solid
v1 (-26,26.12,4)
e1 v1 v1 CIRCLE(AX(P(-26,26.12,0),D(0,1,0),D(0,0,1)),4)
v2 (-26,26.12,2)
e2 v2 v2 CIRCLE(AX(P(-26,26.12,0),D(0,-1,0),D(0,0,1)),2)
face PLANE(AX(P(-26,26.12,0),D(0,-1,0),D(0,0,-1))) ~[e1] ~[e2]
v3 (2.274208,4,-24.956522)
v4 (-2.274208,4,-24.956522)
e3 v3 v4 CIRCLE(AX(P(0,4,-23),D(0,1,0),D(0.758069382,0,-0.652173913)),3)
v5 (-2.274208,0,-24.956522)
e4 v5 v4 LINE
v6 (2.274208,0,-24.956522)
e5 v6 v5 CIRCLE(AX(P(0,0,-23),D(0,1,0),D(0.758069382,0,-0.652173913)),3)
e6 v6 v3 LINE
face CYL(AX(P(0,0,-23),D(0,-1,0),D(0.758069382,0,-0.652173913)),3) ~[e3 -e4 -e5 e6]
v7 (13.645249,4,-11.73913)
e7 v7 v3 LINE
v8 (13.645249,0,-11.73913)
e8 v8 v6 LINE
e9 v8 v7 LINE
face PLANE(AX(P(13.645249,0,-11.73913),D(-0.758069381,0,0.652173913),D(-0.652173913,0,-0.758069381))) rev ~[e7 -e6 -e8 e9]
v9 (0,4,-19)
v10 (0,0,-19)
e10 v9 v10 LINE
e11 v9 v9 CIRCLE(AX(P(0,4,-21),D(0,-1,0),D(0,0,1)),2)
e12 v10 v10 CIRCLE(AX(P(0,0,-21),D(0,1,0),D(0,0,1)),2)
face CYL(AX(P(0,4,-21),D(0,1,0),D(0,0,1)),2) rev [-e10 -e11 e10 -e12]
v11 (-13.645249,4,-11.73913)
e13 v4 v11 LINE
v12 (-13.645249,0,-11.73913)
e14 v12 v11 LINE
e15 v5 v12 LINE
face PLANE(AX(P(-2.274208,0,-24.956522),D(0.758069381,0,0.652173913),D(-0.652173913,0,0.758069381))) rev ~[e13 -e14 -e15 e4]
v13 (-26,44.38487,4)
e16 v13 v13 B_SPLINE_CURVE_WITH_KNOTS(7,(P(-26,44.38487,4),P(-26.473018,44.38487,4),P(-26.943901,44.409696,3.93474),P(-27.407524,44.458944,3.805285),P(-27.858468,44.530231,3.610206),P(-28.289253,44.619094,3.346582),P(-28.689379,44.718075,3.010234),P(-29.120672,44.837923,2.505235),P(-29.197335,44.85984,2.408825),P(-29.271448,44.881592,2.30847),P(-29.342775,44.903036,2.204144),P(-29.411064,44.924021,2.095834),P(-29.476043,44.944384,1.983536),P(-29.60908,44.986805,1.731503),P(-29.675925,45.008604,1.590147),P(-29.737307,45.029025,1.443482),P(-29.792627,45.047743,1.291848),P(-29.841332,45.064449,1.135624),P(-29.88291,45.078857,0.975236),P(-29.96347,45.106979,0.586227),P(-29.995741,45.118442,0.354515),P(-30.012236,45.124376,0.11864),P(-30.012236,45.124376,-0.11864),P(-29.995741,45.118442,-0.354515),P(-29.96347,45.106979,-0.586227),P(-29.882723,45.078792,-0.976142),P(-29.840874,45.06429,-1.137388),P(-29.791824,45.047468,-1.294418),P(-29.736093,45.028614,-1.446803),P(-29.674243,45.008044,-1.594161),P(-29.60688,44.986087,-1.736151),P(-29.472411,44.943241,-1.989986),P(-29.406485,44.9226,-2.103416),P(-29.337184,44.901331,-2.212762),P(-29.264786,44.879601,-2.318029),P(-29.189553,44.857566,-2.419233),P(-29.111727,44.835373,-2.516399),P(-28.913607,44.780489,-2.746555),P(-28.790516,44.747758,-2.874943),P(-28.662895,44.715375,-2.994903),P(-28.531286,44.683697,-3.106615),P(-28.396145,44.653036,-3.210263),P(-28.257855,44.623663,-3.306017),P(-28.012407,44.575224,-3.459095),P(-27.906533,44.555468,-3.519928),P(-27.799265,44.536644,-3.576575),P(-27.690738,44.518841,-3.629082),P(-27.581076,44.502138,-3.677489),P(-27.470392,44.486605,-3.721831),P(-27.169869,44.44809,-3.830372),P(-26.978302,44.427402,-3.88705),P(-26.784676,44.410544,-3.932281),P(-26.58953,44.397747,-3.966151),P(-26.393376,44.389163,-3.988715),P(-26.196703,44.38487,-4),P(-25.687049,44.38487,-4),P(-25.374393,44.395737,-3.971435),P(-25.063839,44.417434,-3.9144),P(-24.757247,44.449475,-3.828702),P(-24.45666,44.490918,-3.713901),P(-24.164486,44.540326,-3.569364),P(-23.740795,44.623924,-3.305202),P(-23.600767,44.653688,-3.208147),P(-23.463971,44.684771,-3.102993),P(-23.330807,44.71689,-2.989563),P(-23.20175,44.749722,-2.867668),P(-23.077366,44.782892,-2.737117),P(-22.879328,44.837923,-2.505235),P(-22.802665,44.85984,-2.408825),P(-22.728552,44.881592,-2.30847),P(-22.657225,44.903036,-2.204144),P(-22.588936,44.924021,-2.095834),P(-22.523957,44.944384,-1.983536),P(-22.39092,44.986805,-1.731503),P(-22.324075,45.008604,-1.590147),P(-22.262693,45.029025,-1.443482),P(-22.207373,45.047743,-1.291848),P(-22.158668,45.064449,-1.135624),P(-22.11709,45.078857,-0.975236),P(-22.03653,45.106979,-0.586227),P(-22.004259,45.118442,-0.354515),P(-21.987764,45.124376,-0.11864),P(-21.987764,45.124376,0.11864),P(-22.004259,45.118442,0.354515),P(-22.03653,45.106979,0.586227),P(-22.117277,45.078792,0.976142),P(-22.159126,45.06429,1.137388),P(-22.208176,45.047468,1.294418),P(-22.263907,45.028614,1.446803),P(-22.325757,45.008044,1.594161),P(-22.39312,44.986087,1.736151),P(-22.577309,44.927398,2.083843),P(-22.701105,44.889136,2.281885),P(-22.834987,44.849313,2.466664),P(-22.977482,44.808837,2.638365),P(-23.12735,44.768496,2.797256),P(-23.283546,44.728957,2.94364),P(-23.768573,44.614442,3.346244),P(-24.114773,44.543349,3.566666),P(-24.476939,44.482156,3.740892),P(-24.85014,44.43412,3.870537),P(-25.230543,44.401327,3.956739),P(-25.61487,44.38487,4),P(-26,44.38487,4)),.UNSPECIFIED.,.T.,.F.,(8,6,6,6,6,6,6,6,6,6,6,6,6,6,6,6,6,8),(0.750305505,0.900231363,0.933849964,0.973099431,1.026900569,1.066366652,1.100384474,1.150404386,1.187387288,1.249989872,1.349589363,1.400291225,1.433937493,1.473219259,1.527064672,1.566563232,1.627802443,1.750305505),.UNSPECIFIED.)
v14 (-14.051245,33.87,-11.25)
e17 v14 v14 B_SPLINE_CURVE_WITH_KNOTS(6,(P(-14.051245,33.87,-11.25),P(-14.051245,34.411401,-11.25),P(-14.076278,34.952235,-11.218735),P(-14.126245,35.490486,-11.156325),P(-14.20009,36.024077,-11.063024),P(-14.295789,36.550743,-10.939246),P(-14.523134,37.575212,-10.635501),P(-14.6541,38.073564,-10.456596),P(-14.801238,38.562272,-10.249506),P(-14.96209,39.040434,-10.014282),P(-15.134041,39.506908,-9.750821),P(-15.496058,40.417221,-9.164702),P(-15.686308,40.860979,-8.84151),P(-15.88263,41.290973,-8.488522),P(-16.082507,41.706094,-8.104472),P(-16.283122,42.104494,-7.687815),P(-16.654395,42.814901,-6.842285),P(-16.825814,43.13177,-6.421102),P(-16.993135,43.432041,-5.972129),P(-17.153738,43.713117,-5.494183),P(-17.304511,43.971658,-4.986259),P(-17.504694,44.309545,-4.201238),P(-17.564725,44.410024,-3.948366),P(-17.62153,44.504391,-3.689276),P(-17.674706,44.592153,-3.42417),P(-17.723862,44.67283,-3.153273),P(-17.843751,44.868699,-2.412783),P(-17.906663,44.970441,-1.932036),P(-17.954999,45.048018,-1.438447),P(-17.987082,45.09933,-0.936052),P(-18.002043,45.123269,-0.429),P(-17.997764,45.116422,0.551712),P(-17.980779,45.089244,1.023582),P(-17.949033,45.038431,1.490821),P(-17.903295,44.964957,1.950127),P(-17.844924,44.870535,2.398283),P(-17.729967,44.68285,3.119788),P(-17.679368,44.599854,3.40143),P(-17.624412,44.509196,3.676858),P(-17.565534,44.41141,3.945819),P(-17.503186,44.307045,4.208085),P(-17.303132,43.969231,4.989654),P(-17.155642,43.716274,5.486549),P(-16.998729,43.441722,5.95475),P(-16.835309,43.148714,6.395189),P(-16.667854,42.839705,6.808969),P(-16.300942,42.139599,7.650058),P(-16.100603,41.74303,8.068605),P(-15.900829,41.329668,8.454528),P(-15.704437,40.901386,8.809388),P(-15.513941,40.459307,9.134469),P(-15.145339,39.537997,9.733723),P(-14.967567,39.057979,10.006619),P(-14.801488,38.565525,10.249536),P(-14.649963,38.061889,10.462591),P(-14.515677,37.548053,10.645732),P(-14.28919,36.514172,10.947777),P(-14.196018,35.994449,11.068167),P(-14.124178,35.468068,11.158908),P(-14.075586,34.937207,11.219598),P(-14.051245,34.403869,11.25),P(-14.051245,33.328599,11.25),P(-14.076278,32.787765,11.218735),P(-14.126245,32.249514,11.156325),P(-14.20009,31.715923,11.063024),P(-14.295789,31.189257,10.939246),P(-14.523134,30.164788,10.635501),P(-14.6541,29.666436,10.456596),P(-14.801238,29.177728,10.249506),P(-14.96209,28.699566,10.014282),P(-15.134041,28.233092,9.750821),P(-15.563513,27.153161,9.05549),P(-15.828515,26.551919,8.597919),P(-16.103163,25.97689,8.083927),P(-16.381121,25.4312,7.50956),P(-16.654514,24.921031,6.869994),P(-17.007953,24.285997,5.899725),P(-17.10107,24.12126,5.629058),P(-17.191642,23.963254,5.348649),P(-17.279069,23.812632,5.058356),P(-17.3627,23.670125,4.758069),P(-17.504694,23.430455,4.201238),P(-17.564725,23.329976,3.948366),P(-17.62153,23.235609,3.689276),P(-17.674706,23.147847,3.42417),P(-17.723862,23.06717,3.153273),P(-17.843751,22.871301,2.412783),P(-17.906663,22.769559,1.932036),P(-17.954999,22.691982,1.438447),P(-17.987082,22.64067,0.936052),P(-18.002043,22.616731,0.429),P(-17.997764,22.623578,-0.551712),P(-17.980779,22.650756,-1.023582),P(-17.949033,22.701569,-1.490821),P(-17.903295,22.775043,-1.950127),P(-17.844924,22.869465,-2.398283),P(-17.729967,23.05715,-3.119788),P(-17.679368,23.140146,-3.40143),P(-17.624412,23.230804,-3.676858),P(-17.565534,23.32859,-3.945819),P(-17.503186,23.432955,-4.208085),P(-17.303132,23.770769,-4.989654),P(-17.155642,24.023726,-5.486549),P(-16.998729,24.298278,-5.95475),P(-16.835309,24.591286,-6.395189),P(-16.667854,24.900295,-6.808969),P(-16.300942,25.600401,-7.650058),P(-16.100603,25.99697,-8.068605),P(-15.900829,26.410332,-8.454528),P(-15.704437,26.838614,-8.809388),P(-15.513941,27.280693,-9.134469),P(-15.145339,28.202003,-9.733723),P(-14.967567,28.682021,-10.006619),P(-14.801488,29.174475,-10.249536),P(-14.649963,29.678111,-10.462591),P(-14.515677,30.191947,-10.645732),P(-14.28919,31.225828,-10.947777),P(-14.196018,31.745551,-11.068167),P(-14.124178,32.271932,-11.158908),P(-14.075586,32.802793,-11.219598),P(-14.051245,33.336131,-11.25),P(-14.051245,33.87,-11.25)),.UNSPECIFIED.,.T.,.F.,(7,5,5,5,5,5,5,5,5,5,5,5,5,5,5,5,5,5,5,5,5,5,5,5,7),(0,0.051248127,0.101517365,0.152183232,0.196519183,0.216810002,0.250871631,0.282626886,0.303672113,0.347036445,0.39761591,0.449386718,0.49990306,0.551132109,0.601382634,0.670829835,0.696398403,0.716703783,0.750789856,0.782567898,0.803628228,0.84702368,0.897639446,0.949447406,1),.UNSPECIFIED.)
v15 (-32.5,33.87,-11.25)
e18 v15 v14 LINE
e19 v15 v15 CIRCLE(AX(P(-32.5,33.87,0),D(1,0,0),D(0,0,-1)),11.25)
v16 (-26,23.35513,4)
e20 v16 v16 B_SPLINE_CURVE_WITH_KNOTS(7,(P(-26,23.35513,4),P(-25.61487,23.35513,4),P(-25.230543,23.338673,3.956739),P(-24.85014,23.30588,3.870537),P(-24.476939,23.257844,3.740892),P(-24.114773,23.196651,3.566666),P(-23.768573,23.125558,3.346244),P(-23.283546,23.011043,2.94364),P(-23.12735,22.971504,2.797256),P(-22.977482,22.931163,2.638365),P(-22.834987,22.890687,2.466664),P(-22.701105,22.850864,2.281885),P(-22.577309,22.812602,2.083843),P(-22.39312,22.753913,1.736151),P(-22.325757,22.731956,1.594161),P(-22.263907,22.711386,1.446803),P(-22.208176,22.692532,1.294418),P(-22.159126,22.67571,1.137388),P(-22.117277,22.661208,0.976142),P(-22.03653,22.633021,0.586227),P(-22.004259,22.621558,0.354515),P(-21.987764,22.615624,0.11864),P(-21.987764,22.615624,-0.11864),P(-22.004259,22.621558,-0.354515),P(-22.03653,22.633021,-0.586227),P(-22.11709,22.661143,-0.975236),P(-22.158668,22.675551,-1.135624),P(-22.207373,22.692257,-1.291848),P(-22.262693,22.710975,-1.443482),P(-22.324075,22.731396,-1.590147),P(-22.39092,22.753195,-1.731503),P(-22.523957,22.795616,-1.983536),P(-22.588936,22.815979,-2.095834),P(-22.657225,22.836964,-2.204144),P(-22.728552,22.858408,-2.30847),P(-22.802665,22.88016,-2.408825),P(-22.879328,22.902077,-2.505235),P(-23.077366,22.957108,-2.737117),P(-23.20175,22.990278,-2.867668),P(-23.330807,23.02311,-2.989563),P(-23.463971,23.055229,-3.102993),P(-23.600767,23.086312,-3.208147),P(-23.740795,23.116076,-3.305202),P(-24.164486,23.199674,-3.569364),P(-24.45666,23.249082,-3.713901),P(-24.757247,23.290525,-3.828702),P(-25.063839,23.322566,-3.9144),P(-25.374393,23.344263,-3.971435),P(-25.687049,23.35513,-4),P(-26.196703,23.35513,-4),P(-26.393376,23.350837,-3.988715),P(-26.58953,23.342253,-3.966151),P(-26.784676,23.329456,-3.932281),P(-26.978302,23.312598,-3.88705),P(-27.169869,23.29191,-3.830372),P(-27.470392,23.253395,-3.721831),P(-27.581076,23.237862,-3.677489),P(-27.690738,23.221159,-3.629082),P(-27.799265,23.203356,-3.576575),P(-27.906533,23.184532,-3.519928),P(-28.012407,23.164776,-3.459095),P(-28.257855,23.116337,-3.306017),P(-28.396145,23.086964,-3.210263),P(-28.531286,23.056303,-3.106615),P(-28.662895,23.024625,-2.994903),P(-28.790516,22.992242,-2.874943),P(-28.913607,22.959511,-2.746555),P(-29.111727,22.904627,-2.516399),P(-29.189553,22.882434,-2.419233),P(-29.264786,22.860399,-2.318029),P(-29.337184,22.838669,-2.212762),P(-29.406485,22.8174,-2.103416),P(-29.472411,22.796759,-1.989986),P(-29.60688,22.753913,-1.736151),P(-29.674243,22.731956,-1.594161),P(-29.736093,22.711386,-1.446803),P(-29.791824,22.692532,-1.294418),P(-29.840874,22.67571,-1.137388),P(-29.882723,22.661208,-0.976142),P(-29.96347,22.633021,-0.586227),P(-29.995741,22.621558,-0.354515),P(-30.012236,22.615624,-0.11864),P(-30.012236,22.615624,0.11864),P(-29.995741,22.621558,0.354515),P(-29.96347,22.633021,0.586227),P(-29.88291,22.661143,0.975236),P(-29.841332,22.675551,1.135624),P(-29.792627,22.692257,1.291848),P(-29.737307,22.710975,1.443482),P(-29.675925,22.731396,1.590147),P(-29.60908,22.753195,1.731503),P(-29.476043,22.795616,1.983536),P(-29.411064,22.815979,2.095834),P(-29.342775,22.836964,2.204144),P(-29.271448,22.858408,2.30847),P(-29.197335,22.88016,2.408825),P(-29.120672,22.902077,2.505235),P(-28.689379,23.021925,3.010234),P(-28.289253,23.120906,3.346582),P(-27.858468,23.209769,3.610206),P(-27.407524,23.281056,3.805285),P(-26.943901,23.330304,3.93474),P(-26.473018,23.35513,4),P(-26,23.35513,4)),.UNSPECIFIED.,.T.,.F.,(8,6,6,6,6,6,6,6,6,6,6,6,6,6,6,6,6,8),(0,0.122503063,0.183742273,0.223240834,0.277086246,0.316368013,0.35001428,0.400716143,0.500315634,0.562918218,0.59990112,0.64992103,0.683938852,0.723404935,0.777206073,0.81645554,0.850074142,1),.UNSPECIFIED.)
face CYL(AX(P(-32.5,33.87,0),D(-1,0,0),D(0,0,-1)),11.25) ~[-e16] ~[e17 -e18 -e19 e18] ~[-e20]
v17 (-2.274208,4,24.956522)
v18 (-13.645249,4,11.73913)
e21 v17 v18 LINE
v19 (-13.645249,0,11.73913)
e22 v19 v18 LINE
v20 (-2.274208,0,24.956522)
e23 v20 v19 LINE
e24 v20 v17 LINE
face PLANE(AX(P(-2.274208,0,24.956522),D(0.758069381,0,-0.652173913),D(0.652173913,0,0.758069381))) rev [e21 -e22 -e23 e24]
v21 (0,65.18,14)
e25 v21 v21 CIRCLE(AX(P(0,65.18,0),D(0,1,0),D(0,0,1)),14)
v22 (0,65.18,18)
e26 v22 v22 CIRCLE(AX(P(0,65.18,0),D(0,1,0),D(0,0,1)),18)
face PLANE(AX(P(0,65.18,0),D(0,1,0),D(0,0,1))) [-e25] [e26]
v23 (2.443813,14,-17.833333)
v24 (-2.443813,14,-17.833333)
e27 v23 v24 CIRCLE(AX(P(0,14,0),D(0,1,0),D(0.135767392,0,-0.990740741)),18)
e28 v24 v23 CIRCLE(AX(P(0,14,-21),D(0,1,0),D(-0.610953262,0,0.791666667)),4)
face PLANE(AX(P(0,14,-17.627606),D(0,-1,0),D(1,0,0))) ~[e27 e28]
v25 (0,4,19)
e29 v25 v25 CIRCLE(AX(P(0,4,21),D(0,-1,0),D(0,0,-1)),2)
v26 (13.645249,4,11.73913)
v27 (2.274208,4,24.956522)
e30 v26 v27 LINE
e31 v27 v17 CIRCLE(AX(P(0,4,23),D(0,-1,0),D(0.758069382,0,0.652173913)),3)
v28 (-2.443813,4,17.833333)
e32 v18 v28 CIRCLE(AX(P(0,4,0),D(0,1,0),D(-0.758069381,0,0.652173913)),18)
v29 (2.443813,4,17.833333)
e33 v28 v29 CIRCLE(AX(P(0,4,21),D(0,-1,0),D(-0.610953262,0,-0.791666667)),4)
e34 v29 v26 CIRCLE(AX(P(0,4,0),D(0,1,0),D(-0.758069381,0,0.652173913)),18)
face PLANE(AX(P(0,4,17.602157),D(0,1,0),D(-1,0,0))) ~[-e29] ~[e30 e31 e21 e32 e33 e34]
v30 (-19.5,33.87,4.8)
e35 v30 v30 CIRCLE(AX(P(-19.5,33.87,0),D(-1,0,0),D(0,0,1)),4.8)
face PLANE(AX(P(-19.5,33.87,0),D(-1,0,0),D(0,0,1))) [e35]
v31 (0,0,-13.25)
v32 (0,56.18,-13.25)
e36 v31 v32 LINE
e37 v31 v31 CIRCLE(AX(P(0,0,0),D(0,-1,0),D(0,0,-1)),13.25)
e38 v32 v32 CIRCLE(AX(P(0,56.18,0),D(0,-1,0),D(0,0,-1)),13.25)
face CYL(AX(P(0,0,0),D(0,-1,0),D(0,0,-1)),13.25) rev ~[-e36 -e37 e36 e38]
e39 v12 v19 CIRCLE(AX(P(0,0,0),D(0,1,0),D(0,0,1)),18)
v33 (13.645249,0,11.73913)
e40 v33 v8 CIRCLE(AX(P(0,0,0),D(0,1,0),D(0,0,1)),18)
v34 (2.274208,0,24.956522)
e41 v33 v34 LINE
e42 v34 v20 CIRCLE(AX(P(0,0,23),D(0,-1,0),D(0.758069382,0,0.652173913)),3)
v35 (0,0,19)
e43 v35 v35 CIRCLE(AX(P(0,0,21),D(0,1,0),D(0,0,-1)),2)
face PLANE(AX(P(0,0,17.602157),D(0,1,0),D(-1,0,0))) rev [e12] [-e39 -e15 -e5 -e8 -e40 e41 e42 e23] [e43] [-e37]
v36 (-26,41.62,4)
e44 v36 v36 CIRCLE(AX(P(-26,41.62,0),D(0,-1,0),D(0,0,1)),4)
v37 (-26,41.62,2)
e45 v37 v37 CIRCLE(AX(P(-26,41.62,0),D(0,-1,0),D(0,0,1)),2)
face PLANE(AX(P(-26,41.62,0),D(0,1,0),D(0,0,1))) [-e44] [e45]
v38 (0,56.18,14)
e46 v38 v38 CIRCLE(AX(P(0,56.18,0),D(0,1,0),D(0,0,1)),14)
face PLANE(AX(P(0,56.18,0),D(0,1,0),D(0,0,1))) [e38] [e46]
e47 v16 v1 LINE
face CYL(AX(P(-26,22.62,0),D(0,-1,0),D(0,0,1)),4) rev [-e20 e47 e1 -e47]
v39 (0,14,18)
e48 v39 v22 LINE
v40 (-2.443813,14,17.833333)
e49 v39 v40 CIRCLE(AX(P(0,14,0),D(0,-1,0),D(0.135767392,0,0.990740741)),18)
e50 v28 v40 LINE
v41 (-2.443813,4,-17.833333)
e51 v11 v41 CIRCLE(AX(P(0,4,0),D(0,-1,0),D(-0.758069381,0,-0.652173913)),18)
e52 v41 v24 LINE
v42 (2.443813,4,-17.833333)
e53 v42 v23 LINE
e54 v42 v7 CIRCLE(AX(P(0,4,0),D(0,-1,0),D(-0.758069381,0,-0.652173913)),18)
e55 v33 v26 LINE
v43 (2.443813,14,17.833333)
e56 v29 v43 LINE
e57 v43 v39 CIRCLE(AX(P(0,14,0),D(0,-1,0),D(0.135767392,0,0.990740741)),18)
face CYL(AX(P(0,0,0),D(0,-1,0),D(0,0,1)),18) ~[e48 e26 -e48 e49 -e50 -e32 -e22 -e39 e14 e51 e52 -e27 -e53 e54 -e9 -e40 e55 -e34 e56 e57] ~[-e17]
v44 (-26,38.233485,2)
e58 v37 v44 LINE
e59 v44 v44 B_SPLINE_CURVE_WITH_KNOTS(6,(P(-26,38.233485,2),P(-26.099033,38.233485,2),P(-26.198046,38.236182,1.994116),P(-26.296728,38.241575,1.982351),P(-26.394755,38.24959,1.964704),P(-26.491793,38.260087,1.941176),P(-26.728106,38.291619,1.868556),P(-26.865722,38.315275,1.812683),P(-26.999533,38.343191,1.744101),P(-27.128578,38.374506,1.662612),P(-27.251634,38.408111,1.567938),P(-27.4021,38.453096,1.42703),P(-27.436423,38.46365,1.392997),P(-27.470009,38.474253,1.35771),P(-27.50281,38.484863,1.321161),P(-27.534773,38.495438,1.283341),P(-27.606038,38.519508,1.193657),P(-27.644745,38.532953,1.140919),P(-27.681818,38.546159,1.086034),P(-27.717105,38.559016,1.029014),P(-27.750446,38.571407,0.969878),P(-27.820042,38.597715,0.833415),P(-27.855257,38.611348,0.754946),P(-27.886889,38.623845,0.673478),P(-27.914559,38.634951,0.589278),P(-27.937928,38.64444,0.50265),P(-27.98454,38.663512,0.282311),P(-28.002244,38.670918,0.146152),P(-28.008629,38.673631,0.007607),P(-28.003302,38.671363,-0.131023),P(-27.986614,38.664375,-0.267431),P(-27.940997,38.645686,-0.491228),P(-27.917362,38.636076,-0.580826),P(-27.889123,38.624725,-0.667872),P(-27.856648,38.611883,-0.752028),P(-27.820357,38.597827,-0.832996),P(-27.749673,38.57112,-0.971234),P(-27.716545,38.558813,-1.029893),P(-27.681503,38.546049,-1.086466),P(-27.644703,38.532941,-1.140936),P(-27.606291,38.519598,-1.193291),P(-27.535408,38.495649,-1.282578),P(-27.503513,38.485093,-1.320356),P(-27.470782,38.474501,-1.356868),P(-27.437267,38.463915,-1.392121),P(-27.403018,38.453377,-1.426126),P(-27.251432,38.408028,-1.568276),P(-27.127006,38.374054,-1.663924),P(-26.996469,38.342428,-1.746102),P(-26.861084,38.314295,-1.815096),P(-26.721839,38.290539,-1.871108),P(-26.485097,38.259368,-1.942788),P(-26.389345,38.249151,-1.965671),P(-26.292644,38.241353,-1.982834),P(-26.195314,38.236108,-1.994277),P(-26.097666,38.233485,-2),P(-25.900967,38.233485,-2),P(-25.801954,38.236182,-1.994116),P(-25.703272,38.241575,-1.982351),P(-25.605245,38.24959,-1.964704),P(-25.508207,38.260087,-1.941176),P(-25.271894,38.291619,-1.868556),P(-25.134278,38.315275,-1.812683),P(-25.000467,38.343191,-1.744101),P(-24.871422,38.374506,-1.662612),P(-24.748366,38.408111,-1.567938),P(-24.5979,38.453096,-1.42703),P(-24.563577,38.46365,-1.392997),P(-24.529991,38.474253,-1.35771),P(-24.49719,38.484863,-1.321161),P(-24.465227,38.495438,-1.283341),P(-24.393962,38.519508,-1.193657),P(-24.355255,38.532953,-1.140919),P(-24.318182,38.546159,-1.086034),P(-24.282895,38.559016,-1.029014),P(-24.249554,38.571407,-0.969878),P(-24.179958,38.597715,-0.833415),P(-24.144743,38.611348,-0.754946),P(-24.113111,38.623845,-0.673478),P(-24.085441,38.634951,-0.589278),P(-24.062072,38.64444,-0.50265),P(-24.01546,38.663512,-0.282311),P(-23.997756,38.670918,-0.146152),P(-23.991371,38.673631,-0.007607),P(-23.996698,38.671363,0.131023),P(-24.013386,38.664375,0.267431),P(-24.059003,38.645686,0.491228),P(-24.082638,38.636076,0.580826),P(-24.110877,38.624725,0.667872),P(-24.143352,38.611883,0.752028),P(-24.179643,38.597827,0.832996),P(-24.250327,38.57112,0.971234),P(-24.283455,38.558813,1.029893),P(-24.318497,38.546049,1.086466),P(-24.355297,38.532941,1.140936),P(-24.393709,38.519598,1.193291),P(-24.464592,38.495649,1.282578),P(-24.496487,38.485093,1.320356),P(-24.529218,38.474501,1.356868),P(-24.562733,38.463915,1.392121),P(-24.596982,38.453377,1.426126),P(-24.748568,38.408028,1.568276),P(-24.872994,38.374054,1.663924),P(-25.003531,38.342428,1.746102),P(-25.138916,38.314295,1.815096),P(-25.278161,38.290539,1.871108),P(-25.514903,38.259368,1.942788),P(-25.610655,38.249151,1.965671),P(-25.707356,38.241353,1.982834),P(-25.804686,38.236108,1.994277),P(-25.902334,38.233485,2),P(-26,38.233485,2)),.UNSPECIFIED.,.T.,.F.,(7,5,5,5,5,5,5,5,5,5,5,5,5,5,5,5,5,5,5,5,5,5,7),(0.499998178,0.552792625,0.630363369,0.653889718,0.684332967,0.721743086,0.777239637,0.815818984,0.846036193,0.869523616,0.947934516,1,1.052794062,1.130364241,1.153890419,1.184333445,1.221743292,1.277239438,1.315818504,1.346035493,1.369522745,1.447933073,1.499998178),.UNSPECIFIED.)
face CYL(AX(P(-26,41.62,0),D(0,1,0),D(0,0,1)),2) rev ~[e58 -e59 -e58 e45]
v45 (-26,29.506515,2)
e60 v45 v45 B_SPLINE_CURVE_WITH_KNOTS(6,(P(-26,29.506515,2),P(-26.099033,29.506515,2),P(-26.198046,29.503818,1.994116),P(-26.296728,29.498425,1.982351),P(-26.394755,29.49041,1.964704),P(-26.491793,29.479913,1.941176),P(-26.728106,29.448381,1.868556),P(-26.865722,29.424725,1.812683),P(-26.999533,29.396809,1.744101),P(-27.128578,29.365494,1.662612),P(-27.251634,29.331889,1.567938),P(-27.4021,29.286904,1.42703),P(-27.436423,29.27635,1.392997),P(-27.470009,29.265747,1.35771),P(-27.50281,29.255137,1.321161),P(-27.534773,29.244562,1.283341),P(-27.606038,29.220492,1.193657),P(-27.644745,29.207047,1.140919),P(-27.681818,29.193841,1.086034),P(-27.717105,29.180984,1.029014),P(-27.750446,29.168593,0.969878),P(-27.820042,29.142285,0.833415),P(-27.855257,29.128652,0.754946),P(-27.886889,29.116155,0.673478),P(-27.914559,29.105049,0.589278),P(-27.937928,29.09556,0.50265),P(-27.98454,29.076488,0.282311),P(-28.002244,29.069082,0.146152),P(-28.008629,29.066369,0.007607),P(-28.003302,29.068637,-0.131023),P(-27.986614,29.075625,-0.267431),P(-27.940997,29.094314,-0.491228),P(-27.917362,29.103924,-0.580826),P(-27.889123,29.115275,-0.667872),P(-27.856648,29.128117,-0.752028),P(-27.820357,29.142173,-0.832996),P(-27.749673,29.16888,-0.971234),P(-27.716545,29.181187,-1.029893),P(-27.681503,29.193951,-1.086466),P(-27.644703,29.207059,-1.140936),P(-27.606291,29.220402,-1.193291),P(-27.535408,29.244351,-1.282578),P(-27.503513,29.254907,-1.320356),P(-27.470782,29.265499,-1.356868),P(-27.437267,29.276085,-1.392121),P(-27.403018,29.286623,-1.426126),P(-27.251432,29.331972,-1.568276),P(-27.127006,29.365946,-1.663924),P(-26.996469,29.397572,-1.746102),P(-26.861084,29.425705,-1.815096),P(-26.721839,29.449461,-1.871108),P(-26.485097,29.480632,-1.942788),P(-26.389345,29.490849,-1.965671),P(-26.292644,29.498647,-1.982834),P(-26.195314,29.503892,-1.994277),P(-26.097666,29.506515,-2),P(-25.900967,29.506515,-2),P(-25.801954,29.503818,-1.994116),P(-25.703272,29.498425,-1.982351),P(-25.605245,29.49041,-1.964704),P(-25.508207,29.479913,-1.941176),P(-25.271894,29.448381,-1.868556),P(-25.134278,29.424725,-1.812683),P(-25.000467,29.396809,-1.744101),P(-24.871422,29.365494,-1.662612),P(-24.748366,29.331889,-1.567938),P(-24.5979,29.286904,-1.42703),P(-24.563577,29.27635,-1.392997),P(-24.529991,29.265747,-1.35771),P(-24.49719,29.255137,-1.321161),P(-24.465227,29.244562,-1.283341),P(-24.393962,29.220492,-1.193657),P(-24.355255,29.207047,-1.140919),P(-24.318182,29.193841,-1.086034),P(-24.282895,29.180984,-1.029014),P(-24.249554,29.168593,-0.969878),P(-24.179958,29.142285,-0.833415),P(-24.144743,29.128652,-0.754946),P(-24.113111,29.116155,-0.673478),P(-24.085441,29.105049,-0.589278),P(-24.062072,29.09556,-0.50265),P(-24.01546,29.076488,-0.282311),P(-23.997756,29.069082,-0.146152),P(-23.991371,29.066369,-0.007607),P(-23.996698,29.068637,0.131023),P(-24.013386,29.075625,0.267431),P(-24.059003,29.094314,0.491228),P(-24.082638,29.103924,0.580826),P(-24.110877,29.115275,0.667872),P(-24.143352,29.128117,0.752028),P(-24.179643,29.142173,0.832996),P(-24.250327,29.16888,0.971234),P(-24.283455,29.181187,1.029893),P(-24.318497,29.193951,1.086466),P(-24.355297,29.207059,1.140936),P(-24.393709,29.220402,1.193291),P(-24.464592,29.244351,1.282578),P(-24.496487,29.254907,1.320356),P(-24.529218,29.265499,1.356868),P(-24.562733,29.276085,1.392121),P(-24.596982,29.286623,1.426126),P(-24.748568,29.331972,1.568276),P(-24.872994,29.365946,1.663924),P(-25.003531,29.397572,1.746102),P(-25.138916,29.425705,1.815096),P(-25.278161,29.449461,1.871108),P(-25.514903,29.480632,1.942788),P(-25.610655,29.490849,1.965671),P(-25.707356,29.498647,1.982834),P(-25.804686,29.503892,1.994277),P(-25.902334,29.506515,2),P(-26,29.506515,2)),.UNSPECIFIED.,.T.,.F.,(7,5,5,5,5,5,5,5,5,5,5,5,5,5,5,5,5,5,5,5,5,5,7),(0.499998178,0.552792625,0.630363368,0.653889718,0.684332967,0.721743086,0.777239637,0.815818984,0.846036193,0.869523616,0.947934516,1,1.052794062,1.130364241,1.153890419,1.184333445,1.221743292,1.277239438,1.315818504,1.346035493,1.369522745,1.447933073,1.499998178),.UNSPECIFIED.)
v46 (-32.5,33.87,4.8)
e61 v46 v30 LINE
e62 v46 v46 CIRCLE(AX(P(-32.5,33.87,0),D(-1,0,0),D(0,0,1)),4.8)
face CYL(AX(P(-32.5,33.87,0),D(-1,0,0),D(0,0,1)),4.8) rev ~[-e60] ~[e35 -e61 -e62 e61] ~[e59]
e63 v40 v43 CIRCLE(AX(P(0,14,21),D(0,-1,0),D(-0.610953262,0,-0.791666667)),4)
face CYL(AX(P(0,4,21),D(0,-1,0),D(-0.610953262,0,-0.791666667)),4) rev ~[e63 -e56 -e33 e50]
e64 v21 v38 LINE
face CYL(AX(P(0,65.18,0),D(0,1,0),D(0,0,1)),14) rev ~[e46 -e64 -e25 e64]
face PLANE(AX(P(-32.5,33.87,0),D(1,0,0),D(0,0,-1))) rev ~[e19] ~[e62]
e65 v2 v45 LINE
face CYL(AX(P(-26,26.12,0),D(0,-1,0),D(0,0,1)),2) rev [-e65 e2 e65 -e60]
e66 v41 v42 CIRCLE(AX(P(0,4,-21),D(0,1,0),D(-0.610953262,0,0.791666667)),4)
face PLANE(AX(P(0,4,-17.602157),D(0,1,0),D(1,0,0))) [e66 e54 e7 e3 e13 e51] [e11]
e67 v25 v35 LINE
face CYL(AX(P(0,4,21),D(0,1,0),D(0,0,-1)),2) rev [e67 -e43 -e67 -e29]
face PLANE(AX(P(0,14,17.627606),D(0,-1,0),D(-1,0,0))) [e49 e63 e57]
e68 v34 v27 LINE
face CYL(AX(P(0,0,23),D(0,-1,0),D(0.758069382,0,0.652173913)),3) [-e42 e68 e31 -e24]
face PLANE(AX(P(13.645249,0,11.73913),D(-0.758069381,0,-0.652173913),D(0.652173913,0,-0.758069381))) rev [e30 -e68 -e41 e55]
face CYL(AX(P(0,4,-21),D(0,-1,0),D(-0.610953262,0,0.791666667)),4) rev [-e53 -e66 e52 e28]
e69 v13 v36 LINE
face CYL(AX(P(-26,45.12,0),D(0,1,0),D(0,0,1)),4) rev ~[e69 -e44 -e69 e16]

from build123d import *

# Parameters (mm, degrees)
ESQUISSE1_R                                = 18
BOSS_EXTRU_1_DEPTH                         = 65.18
BOSS_EXTRU_3_DEPTH                         = 6
BOSS_EXTRU_3_DEPTH_BACK                    = 16
ESQUISSE2_R                                = 11.25
ESQUISSE3_R                                = 4.8
ENL_V_MAT_EXTRU_1_DEPTH                    = 13
ESQUISSE4_R                                = 14
ENL_V_MAT_EXTRU_2_DEPTH                    = 9
ESQUISSE5_R                                = 10
ENL_V_MAT_EXTRU_3_DEPTH                    = 68.353117384
BOSS_EXTRU_4_DEPTH                         = 4
ESQUISSE9_R                                = 2
ENL_V_MAT_EXTRU_4_DEPTH                    = 74.994881031
ESQUISSE11_R                               = 4
ENL_V_MAT_EXTRU_5_DEPTH                    = 3.5
ESQUISSE12_R                               = 2
ENL_V_MAT_EXTRU_6_DEPTH                    = 3.5
SYM_TRIE4_AT_THE_SECOND_PLANE_COPY_1_SKE_R = 4
SYM_TRIE4_AT_THE_SECOND_PLANE_COPY_1_DEPTH = 3.5
SYM_TRIE4_AT_THE_SECOND_PLANE_COPY_2_SKE_R = 2
SYM_TRIE4_AT_THE_SECOND_PLANE_COPY_2_DEPTH = 3.5
ESQUISSE13_R                               = 13.25
ENL_V_MAT_EXTRU_7_DEPTH                    = 75
ENL_V_MAT_EXTRU_8_DEPTH                    = 10


with BuildPart() as part:
    # Esquisse1 → Boss.-Extru.1 (new body)
    with BuildSketch(Plane(origin=(0, 0, 0), x_dir=(1, 0, 0), z_dir=(0, 1, 0))):
        with Locations(Location((0, 0, 0), (0, 0, 270))):
            Circle(ESQUISSE1_R)
    extrude(amount=BOSS_EXTRU_1_DEPTH)

    # Esquisse2 → Boss.-Extru.3 (add, two sides: drawn at the far end of the back side and taken through both)
    with BuildSketch(Plane(origin=(-16.5, 0, 0), x_dir=(0, 0, -1), z_dir=(1, 0, 0)).offset(-BOSS_EXTRU_3_DEPTH_BACK)):
        with Locations((0, 33.87)):
            Circle(ESQUISSE2_R)
    extrude(amount=BOSS_EXTRU_3_DEPTH + BOSS_EXTRU_3_DEPTH_BACK)

    # Esquisse3 → Enlèv. mat.-Extru.1 (cut)
    with BuildSketch(Plane.ZY.offset(32.5)):
        with Locations((0, 33.87)):
            Circle(ESQUISSE3_R)
    extrude(amount=-ENL_V_MAT_EXTRU_1_DEPTH, mode=Mode.SUBTRACT)

    # Esquisse4 → Enlèv. mat.-Extru.2 (cut)
    with BuildSketch(Plane(origin=(0, 65.18, 0), x_dir=(1, 0, 0), z_dir=(0, 1, 0))):
        with Locations(Location((0, 0, 0), (0, 0, 270))):
            Circle(ESQUISSE4_R)
    extrude(amount=-ENL_V_MAT_EXTRU_2_DEPTH, mode=Mode.SUBTRACT)

    # Esquisse5 → Enlèv. mat.-Extru.3 (cut, through all)
    with BuildSketch(Plane(origin=(0, 56.18, 0), x_dir=(1, 0, 0), z_dir=(0, 1, 0))):
        with Locations(Location((0, 0, 0), (0, 0, 270))):
            Circle(ESQUISSE5_R)
    extrude(amount=-ENL_V_MAT_EXTRU_3_DEPTH, mode=Mode.SUBTRACT)

    # Esquisse8 → Boss.-Extru.4 (add)
    with BuildSketch(Plane(origin=(0, 0, 0), x_dir=(1, 0, 0), z_dir=(0, 1, 0))):
        with BuildLine():
            Line((13.645248867, 11.739130435), (2.274208144, 24.956521739))
            ThreePointArc((2.274208144, 24.956521739), (0, 26), (-2.274208144, 24.956521739))
            Line((-2.274208144, 24.956521739), (-13.645248867, 11.739130435))
            ThreePointArc((-13.645248867, 11.739130435), (0, 18), (13.645248867, 11.739130435))
        make_face()
    boss_extru_4 = extrude(amount=BOSS_EXTRU_4_DEPTH)

    # Esquisse9 → Enlèv. mat.-Extru.4 (cut, through all)
    with BuildSketch(Plane(origin=(0, 4, 0), x_dir=(1, 0, 0), z_dir=(0, 1, 0))):
        with Locations(Location((0, 21, 0), (0, 0, 270))):
            Circle(ESQUISSE9_R)
    enl_v_mat_extru_4 = extrude(amount=-ENL_V_MAT_EXTRU_4_DEPTH, mode=Mode.SUBTRACT)

    # Symétrie3: Boss.-Extru.4, Enlèv. mat.-Extru.4 across plane
    add(boss_extru_4.mirror(Plane(origin=(0, 0, 0), x_dir=(0, 0, 1), z_dir=(1, 0, 0))))
    add(enl_v_mat_extru_4.mirror(Plane(origin=(0, 0, 0), x_dir=(0, 0, 1), z_dir=(1, 0, 0))), mode=Mode.SUBTRACT)

    # Symétrie3 at the second plane: Boss.-Extru.4, Enlèv. mat.-Extru.4 across plane
    add(boss_extru_4.mirror(Plane.XY))
    add(enl_v_mat_extru_4.mirror(Plane.XY), mode=Mode.SUBTRACT)

    # Esquisse11 → Enlèv. mat.-Extru.5 (cut)
    with BuildSketch(Plane(origin=(0, 45.12, 0), x_dir=(1, 0, 0), z_dir=(0, 1, 0))):
        with Locations(Location((-26, 0, 0), (0, 0, 270))):
            Circle(ESQUISSE11_R)
    enl_v_mat_extru_5 = extrude(amount=-ENL_V_MAT_EXTRU_5_DEPTH, mode=Mode.SUBTRACT)

    # Esquisse12 → Enlèv. mat.-Extru.6 (cut)
    with BuildSketch(Plane(origin=(0, 41.62, 0), x_dir=(1, 0, 0), z_dir=(0, 1, 0))):
        with Locations(Location((-26, 0, 0), (0, 0, 270))):
            Circle(ESQUISSE12_R)
    enl_v_mat_extru_6 = extrude(amount=-ENL_V_MAT_EXTRU_6_DEPTH, mode=Mode.SUBTRACT)

    # Symétrie4: Enlèv. mat.-Extru.5, Enlèv. mat.-Extru.6 across plane
    add(enl_v_mat_extru_5.mirror(Plane.XY), mode=Mode.SUBTRACT)
    add(enl_v_mat_extru_6.mirror(Plane.XY), mode=Mode.SUBTRACT)

    # Symétrie4 at the second plane: Enlèv. mat.-Extru.5, Enlèv. mat.-Extru.6 across plane
    add(enl_v_mat_extru_5.mirror(Plane.ZX.offset(33.87)), mode=Mode.SUBTRACT)
    add(enl_v_mat_extru_6.mirror(Plane.ZX.offset(33.87)), mode=Mode.SUBTRACT)

    # Symétrie4 at the second plane copy 1 ske → Symétrie4 at the second plane copy 1 (cut)
    with BuildSketch(Plane.XZ.offset(-22.62)):
        with Locations(Location((-26, 0, 0), (0, 0, 270))):
            Circle(SYM_TRIE4_AT_THE_SECOND_PLANE_COPY_1_SKE_R)
    extrude(amount=-SYM_TRIE4_AT_THE_SECOND_PLANE_COPY_1_DEPTH, mode=Mode.SUBTRACT)

    # Symétrie4 at the second plane copy 2 ske → Symétrie4 at the second plane copy 2 (cut)
    with BuildSketch(Plane.XZ.offset(-26.12)):
        with Locations(Location((-26, 0, 0), (0, 0, 270))):
            Circle(SYM_TRIE4_AT_THE_SECOND_PLANE_COPY_2_SKE_R)
    extrude(amount=-SYM_TRIE4_AT_THE_SECOND_PLANE_COPY_2_DEPTH, mode=Mode.SUBTRACT)

    # Esquisse13 → Enlèv. mat.-Extru.7 (cut)
    with BuildSketch(Plane.XZ):
        with Locations(Location((0, 0, 0), (0, 0, 270))):
            Circle(ESQUISSE13_R)
    extrude(amount=-ENL_V_MAT_EXTRU_7_DEPTH, mode=Mode.SUBTRACT)

    # Esquisse14 → Enlèv. mat.-Extru.8 (cut)
    with BuildSketch(Plane(origin=(0, 4, 0), x_dir=(1, 0, 0), z_dir=(0, 1, 0))):
        with BuildLine():
            ThreePointArc((-2.44381305, -17.833333333), (0, -17), (2.44381305, -17.833333333))
            ThreePointArc((2.44381305, -17.833333333), (0, -18), (-2.44381305, -17.833333333))
        make_face()
    enl_v_mat_extru_8 = extrude(amount=ENL_V_MAT_EXTRU_8_DEPTH, mode=Mode.SUBTRACT)

    # Symétrie5: Enlèv. mat.-Extru.8 across plane
    add(enl_v_mat_extru_8.mirror(Plane.XY), mode=Mode.SUBTRACT)


solid = part.part
